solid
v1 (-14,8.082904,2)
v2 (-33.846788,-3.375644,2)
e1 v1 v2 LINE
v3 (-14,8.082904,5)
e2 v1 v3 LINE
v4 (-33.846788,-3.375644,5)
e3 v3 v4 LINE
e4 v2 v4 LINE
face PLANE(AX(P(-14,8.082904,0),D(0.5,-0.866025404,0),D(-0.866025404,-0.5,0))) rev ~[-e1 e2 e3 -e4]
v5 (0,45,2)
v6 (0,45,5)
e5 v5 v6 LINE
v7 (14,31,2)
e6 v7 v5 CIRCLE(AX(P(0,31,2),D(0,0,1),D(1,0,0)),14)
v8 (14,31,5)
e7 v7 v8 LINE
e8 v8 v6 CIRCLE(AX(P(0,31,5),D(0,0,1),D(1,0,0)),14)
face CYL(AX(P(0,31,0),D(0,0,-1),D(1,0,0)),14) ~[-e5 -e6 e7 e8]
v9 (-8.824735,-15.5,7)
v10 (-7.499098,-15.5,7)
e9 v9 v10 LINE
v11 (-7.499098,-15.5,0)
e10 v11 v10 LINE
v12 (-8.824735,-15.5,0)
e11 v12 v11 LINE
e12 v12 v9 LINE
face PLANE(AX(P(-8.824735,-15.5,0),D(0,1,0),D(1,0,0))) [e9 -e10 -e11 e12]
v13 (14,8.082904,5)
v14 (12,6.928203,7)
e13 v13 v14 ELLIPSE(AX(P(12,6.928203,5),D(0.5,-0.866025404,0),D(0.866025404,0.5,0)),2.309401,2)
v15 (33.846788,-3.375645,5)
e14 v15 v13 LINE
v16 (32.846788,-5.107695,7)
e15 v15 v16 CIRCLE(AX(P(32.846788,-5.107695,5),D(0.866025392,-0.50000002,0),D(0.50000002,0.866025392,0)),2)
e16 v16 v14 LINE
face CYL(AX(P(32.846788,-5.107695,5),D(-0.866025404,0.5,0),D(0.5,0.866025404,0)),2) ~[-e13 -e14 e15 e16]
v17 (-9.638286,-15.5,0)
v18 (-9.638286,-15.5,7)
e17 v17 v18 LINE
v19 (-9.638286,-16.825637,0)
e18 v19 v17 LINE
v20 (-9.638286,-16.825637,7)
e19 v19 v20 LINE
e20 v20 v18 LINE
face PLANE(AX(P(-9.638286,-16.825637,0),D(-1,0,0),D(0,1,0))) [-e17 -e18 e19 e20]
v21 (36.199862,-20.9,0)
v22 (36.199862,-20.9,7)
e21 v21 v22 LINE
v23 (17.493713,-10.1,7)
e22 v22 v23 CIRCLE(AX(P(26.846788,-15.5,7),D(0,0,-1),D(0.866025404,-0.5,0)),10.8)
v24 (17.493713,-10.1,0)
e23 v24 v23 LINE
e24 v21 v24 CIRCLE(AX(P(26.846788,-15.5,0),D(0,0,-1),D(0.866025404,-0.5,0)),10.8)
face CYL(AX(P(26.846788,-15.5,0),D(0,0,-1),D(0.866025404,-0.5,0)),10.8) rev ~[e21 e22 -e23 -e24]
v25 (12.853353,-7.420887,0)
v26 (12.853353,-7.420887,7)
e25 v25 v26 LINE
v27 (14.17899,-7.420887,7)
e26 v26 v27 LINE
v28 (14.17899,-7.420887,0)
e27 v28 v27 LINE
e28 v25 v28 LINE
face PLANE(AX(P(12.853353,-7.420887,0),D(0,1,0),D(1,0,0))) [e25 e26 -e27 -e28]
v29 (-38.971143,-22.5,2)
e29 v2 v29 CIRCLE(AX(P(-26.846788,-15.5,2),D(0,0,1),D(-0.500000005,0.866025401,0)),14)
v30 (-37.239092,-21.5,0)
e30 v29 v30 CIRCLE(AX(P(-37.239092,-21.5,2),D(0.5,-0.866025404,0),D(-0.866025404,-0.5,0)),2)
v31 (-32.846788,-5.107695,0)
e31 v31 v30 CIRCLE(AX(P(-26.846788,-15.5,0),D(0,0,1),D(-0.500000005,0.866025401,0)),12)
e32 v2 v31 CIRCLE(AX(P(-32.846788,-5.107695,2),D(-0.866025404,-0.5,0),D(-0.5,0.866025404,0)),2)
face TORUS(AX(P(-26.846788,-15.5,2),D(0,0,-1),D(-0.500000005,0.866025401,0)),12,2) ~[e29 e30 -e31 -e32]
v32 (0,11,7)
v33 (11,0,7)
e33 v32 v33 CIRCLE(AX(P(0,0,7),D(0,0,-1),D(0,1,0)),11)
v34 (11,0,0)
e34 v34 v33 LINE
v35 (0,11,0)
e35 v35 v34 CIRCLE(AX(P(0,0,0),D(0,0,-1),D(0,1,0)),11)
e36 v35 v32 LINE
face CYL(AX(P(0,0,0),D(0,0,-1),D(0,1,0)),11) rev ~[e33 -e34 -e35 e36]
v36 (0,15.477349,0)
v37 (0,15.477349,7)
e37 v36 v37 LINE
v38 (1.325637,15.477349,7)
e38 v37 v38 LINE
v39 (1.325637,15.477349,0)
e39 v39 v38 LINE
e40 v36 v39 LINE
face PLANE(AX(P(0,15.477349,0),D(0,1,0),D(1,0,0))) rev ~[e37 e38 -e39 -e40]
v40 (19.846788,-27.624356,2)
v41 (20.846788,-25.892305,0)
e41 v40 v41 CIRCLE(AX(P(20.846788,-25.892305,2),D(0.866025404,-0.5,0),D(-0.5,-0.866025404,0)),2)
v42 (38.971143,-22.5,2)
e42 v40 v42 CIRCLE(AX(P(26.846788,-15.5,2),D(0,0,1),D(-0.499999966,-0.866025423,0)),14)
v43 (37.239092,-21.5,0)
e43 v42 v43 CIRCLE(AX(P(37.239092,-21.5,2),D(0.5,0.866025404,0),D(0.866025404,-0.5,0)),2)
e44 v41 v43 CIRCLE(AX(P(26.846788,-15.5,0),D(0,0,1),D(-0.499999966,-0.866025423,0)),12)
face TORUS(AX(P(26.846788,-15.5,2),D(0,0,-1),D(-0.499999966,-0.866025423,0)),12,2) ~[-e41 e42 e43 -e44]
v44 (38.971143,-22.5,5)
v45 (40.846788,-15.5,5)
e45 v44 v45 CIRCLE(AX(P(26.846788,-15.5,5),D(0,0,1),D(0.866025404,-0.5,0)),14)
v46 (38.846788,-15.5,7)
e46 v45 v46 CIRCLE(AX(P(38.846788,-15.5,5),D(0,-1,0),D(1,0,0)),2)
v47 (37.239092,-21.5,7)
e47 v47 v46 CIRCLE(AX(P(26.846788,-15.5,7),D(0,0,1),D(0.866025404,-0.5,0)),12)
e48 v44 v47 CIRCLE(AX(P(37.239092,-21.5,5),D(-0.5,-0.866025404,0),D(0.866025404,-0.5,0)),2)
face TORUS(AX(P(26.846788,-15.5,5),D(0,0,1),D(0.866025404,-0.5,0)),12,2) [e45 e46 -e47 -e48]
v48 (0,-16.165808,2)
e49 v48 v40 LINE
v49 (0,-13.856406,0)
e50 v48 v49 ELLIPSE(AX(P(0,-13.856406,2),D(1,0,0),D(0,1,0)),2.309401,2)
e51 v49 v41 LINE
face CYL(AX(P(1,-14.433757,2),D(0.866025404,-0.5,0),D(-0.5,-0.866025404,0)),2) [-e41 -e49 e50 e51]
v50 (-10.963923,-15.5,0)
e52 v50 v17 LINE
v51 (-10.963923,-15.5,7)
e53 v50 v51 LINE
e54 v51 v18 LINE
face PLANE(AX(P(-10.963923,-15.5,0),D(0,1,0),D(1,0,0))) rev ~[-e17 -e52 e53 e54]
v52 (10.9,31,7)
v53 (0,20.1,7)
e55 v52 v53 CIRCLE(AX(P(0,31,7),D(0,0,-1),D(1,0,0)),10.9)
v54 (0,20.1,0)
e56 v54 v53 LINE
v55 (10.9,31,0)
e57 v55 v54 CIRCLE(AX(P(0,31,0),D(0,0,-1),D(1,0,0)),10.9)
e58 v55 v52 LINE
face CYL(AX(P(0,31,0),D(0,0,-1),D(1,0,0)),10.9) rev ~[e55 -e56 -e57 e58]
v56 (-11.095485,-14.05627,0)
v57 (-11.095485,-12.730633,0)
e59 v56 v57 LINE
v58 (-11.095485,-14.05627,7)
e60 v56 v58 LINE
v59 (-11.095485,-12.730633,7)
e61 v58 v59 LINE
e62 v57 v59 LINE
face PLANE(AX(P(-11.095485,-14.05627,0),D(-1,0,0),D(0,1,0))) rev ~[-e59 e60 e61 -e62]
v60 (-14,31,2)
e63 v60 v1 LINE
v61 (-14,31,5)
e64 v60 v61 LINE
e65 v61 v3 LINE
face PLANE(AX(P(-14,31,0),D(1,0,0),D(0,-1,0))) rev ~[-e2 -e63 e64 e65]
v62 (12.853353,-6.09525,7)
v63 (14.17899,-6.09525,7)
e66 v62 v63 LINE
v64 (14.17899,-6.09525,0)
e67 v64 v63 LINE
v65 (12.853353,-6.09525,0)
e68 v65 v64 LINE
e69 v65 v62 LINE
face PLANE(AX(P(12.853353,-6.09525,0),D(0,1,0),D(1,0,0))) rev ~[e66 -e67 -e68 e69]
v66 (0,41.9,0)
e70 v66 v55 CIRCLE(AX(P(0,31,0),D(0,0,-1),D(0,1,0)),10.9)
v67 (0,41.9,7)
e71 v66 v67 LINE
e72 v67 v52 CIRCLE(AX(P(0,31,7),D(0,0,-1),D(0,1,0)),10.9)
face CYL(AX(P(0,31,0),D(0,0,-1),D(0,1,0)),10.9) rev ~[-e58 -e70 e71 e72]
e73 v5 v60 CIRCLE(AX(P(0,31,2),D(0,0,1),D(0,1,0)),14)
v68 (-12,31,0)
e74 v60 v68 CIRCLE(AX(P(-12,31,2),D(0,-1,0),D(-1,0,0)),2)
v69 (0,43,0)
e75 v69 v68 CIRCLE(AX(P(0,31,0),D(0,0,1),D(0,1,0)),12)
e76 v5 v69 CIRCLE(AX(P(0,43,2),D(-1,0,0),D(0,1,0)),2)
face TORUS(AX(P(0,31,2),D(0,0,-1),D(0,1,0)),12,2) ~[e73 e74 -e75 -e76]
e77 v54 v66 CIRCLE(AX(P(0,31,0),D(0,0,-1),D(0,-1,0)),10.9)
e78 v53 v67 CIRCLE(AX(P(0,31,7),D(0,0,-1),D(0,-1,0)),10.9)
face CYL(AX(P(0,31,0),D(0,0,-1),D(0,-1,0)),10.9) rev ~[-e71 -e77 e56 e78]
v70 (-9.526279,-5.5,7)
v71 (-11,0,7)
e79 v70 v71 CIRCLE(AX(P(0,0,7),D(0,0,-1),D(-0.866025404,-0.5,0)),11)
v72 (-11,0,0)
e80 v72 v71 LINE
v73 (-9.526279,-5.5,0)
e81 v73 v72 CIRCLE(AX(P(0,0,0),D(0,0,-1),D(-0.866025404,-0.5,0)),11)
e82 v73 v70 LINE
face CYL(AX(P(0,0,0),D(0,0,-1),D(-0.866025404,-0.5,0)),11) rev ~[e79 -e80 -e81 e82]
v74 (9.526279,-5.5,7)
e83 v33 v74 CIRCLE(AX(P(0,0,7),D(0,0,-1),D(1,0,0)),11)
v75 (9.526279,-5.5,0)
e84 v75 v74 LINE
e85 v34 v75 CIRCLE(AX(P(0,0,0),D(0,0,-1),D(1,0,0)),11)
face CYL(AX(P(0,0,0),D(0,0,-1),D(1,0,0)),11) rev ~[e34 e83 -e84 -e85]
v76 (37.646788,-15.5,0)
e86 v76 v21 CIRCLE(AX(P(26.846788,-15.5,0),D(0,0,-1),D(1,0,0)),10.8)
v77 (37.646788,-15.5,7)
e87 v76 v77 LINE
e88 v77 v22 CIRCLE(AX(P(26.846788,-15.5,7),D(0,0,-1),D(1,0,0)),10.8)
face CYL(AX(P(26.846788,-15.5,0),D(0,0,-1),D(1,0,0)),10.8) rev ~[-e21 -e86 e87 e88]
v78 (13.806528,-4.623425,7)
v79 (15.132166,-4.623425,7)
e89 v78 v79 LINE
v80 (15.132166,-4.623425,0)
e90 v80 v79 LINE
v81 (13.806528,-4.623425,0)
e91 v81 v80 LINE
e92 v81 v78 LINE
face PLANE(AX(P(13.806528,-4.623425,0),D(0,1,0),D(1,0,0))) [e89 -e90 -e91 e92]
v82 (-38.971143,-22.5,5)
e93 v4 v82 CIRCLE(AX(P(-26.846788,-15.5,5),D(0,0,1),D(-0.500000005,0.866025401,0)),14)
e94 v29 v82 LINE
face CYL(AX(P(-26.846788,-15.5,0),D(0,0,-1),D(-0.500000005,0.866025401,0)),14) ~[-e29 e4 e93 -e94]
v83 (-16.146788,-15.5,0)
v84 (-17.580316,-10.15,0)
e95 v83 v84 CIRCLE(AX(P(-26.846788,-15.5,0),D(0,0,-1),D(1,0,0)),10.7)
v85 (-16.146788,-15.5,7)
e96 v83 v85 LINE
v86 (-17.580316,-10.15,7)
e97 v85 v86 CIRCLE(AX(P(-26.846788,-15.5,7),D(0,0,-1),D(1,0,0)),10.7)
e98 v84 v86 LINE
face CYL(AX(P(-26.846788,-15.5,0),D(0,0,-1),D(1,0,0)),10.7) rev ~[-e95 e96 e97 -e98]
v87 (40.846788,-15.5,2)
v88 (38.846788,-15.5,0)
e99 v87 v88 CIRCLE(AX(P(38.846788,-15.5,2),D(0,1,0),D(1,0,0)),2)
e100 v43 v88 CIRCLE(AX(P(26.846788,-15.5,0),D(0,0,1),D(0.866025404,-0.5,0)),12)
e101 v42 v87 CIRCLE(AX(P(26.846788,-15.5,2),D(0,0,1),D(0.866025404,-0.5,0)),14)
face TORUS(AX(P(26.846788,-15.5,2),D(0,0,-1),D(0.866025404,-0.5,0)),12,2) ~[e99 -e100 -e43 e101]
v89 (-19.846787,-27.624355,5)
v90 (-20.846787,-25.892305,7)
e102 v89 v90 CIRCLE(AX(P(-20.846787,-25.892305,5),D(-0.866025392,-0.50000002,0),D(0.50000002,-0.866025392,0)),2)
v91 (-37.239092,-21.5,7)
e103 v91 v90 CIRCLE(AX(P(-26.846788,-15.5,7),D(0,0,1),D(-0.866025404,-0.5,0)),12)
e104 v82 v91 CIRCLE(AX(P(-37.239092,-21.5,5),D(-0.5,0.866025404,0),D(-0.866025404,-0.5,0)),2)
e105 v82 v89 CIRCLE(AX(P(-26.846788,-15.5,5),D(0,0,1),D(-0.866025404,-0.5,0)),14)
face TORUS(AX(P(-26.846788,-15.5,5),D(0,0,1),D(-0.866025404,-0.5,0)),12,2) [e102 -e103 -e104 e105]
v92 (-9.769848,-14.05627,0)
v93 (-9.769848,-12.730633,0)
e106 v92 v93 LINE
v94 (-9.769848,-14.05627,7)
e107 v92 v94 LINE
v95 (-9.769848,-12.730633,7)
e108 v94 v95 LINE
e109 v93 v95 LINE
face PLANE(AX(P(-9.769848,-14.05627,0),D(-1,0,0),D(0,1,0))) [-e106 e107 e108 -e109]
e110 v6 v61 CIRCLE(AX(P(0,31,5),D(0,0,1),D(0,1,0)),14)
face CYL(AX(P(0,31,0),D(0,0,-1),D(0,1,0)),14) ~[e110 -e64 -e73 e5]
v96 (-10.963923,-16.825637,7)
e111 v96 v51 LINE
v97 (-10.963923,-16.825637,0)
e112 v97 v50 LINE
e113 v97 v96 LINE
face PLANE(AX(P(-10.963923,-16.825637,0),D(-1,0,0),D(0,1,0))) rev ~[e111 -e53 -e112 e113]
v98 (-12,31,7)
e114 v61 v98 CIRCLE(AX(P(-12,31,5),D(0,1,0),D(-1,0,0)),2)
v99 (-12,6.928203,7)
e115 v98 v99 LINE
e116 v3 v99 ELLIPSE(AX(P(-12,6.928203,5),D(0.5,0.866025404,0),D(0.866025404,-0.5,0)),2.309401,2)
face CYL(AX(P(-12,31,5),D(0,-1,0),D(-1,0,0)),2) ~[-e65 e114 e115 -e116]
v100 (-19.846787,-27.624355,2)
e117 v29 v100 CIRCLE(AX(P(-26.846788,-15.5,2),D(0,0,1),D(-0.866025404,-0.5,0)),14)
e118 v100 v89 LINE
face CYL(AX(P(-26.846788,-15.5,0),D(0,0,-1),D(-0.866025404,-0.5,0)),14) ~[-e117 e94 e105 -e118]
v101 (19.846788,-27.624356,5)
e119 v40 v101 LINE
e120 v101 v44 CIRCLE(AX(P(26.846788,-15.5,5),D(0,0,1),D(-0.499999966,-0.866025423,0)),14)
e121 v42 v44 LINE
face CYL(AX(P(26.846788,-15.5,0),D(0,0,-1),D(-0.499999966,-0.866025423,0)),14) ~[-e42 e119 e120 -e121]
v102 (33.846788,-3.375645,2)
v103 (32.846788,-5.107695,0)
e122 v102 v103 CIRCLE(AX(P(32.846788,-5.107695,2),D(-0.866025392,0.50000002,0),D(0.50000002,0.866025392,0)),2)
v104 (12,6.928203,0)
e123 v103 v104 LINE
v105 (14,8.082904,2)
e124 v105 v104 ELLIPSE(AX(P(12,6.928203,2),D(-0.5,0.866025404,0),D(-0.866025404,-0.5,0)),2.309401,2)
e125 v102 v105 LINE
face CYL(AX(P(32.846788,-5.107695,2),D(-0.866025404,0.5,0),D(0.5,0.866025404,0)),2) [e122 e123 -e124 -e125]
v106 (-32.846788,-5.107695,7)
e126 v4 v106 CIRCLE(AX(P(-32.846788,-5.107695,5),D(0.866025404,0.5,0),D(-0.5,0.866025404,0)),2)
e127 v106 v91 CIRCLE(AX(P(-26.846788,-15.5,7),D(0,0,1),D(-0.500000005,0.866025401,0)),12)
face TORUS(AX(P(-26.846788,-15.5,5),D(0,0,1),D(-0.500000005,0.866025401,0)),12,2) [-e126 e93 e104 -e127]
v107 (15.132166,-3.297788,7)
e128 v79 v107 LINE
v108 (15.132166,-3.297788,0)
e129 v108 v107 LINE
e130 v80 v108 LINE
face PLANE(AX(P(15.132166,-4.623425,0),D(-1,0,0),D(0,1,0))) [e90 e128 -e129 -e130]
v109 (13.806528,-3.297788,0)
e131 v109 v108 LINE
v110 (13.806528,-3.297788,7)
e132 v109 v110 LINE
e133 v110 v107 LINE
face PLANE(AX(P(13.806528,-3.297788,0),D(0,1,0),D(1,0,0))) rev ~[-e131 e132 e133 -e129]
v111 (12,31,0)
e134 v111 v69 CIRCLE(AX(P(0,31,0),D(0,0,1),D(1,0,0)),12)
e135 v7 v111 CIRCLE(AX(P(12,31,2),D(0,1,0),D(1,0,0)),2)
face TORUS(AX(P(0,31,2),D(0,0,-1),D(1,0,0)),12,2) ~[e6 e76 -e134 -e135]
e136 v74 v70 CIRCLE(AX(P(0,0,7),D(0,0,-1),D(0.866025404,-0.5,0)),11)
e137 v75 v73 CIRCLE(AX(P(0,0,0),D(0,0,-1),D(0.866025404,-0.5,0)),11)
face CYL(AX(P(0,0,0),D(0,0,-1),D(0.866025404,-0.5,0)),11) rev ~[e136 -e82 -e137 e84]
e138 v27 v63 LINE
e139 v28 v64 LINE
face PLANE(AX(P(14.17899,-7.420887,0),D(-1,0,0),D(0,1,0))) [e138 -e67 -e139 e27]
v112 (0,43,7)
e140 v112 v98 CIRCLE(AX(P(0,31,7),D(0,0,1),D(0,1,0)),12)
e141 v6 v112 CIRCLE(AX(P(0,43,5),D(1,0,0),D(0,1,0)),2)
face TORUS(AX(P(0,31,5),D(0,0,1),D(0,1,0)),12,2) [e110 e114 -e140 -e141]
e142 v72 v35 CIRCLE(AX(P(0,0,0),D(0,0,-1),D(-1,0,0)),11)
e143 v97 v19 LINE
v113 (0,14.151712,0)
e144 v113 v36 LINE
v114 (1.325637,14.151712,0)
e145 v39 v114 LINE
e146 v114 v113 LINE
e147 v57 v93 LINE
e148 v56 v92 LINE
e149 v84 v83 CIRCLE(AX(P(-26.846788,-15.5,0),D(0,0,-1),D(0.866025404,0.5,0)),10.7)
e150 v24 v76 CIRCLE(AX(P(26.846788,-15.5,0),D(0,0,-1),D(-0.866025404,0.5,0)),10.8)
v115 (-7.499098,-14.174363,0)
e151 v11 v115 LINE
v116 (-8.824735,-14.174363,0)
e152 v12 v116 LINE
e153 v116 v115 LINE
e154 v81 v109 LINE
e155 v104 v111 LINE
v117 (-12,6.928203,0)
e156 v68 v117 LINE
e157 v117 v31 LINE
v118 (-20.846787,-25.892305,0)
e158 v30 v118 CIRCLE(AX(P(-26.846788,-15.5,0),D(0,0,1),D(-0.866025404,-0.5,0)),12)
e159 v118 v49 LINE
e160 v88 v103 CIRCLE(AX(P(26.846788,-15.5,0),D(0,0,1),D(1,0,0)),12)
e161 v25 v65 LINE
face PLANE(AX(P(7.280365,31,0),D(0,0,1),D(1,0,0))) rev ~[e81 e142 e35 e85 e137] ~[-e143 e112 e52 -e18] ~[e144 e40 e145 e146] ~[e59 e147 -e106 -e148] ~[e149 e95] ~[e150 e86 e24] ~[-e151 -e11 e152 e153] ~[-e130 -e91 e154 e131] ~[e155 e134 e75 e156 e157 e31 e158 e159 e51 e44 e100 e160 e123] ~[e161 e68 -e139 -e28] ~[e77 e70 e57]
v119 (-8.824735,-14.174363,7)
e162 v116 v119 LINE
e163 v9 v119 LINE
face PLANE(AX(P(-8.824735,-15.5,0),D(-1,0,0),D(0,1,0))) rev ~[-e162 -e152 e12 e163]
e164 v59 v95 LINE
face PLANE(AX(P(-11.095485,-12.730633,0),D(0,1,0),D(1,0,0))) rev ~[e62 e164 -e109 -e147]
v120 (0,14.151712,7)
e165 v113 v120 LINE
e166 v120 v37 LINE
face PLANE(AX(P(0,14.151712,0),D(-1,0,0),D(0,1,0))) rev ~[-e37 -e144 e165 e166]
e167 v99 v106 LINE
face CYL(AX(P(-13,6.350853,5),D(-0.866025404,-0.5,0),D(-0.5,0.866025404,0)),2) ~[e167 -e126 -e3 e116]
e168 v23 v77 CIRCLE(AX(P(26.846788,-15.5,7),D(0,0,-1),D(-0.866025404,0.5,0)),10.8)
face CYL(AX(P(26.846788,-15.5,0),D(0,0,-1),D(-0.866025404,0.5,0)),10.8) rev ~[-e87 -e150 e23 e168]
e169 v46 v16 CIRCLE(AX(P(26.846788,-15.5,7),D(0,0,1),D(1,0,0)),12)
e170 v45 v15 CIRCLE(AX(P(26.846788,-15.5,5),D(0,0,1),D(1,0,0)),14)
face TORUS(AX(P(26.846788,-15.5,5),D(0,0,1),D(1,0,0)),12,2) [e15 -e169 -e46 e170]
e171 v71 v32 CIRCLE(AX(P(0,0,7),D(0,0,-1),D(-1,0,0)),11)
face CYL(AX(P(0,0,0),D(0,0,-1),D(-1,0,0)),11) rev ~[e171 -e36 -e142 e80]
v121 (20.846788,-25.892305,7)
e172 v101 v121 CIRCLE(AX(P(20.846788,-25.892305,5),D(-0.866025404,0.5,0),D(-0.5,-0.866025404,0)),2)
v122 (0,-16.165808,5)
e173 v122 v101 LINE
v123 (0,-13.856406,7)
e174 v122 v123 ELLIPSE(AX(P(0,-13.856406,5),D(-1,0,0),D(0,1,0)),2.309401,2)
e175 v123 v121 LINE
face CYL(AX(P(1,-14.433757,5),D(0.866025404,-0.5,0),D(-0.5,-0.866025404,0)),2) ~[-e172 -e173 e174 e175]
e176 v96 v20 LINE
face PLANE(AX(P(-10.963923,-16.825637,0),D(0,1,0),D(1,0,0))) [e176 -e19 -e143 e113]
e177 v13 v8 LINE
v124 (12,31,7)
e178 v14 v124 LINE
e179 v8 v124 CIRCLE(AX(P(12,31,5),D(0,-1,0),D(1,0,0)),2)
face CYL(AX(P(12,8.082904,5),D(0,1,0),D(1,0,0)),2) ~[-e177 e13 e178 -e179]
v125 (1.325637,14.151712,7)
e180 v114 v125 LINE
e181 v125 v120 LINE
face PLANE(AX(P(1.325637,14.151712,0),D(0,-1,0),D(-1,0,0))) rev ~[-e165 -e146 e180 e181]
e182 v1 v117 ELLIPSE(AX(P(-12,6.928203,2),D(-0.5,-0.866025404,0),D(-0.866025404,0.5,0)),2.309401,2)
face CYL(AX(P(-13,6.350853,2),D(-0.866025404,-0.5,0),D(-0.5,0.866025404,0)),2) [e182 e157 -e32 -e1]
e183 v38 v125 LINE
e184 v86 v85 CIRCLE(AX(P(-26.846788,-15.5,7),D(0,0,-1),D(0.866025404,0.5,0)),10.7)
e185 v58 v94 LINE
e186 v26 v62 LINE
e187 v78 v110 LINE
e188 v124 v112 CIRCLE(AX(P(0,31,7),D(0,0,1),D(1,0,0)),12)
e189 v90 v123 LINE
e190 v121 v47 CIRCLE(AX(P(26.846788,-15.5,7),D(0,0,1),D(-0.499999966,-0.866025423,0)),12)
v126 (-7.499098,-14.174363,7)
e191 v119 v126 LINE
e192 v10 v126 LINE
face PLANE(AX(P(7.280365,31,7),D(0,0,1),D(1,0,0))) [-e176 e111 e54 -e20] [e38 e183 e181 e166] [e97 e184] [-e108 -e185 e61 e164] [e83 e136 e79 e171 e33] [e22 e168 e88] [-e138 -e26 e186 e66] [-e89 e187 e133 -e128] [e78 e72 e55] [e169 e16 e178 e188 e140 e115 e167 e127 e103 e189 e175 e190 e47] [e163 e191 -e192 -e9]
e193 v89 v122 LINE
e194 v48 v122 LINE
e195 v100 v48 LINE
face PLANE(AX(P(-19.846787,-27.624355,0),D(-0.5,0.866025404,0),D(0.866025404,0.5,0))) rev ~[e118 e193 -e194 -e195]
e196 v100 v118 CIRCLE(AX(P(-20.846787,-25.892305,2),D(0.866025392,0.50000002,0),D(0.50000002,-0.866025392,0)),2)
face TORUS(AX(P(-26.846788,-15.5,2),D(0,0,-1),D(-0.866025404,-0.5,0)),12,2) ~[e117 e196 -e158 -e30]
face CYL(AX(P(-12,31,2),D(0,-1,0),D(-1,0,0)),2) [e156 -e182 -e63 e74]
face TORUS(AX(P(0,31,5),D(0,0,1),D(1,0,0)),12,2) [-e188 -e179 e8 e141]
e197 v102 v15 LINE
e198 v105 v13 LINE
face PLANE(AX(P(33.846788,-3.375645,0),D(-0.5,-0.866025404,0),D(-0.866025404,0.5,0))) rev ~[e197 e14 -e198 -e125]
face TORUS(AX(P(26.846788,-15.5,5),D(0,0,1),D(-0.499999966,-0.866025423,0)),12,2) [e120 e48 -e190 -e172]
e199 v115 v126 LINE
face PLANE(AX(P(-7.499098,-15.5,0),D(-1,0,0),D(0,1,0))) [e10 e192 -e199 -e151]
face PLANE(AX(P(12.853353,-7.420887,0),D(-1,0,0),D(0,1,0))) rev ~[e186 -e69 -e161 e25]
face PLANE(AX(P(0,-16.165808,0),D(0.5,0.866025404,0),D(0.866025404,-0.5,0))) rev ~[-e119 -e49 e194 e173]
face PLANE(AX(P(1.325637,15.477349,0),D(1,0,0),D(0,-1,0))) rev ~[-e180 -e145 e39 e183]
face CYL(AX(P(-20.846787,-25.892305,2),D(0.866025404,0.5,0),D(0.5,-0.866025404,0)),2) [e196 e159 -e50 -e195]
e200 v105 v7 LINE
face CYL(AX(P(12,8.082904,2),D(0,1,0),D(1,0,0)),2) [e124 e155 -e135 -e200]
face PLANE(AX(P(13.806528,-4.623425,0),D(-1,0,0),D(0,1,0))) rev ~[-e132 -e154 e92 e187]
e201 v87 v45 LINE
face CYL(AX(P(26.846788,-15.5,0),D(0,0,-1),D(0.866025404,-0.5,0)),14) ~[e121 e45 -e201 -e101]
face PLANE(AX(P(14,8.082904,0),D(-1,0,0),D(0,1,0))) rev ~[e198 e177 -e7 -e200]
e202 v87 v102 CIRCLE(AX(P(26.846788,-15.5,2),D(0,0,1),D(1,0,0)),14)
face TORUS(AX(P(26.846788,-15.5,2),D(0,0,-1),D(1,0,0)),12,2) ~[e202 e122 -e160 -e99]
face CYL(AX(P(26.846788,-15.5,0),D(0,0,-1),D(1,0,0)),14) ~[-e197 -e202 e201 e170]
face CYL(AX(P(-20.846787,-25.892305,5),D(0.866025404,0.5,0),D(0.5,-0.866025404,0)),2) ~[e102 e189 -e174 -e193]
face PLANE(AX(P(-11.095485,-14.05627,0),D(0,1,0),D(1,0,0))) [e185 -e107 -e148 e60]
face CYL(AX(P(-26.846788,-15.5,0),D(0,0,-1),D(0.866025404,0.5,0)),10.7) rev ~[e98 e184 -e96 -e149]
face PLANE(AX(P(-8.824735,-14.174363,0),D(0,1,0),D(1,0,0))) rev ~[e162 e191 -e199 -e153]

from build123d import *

# Parameters (mm, degrees)
F0_W     = 1.3256371551
F0_H     = 1.3256371551
F1_DEPTH = 7
F2_R     = 2


with BuildPart() as f1:
    # F0 (on Top) → F1 (new body)
    with BuildSketch(Plane.XY):
        with BuildLine():
            Line((0, 20.1), (0, 17))
            ThreePointArc((0, 17), (9.8994949366, 21.1005050634), (14, 31))
            ThreePointArc((14, 31), (9.8994949366, 40.8994949366), (0, 45))
            Line((0, 45), (0, 41.9))
            ThreePointArc((0, 41.9), (7.7074639149, 38.7074639149), (10.9, 31))
            ThreePointArc((10.9, 31), (7.7074639149, 23.2925360851), (0, 20.1))
        make_face()
        with BuildLine():
            ThreePointArc((-14, 31), (-9.8994949366, 21.1005050634), (0, 17))
            Line((0, 17), (0, 20.1))
            ThreePointArc((0, 20.1), (-10.9, 31), (0, 41.9))
            Line((0, 41.9), (0, 45))
            ThreePointArc((0, 45), (-9.8994949366, 40.8994949366), (-14, 31))
        make_face()
        with BuildLine():
            Line((0, 11), (0, 14.1517119482))
            Line((0, 14.1517119482), (0, 15.4773491033))
            Line((0, 15.4773491033), (0, 17))
            ThreePointArc((0, 17), (-9.8994949366, 21.1005050634), (-14, 31))
            Line((-14, 31), (-14, 8.0829037687))
            Line((-14, 8.0829037687), (-14, 0))
            Line((-14, 0), (-11, 0))
            ThreePointArc((-11, 0), (-7.7781745931, 7.7781745931), (0, 11))
        make_face()
        with BuildLine():
            Line((1.3256371551, 14.1517119482), (0, 14.1517119482))
            Line((0, 14.1517119482), (0, 11))
            ThreePointArc((0, 11), (7.7781745931, 7.7781745931), (11, 0))
            Line((11, 0), (14, 0))
            Line((14, 0), (14, 8.0829037687))
            Line((14, 8.0829037687), (14, 31))
            ThreePointArc((14, 31), (9.8994949366, 21.1005050634), (0, 17))
            Line((0, 17), (0, 15.4773491033))
            Line((0, 15.4773491033), (1.3256371551, 15.4773491033))
            Line((1.3256371551, 15.4773491033), (1.3256371551, 14.1517119482))
        make_face()
        with BuildLine():
            Line((14, 0), (11, 0))
            ThreePointArc((11, 0), (10.6251840892, -2.8470094961), (9.5262794416, -5.5))
            Line((9.5262794416, -5.5), (12.8533530208, -7.4208868265))
            Line((12.8533530208, -7.4208868265), (14.7224318643, -8.5))
            ThreePointArc((14.7224318643, -8.5), (23.2233210418, -1.9770383902), (33.8467877969, -3.3756445084))
            Line((33.8467877969, -3.3756445084), (14, 8.0829037687))
            Line((14, 8.0829037687), (14, 0))
        make_face()
        with Locations((13.5161715983, -6.758068249)):
            Rectangle(F0_W, F0_H, mode=Mode.SUBTRACT)
        with Locations((14.4693469893, -3.9606061499)):
            Rectangle(F0_W, F0_H, mode=Mode.SUBTRACT)
        with BuildLine():
            Line((12.8533530208, -7.4208868265), (9.5262794416, -5.5))
            ThreePointArc((9.5262794416, -5.5), (0, -11), (-9.5262794416, -5.5))
            Line((-9.5262794416, -5.5), (-14, -8.0829037687))
            Line((-14, -8.0829037687), (0, -16.1658075373))
            Line((0, -16.1658075373), (19.8467879874, -27.6243559244))
            ThreePointArc((19.8467879874, -27.6243559244), (13.3238260195, -19.1234668936), (14.7224318643, -8.5))
            Line((14.7224318643, -8.5), (12.8533530208, -7.4208868265))
        make_face()
        with BuildLine():
            ThreePointArc((-9.5262794416, -5.5), (-10.6251840892, -2.8470094961), (-11, 0))
            Line((-11, 0), (-14, 0))
            Line((-14, 0), (-14, 8.0829037687))
            Line((-14, 8.0829037687), (-33.8467875831, -3.375644385))
            ThreePointArc((-33.8467875831, -3.375644385), (-23.2233209225, -1.9770384221), (-14.7224318643, -8.5))
            Line((-14.7224318643, -8.5), (-14, -8.0829037687))
            Line((-14, -8.0829037687), (-9.5262794416, -5.5))
        make_face()
        with BuildLine():
            Line((0, -16.1658075373), (-14, -8.0829037687))
            Line((-14, -8.0829037687), (-14.7224318643, -8.5))
            ThreePointArc((-14.7224318643, -8.5), (-13.3238259493, -11.8765333686), (-12.8467875173, -15.5))
            ThreePointArc((-12.8467875173, -15.5), (-14.7224317836, -22.4999998602), (-19.8467872378, -27.6243554916))
            Line((-19.8467872378, -27.6243554916), (0, -16.1658075373))
        make_face()
        with Locations((-10.3011047203, -16.1628185775)):
            Rectangle(F0_W, F0_H, mode=Mode.SUBTRACT)
        with Locations((-8.161916424, -14.8371814225)):
            Rectangle(F0_W, F0_H, mode=Mode.SUBTRACT)
        with Locations((-10.4326661411, -13.3934514332)):
            Rectangle(F0_W, F0_H, mode=Mode.SUBTRACT)
        with BuildLine():
            ThreePointArc((-12.8467875173, -15.5), (-13.3238259493, -11.8765333686), (-14.7224318643, -8.5))
            Line((-14.7224318643, -8.5), (-17.5803156968, -10.15))
            ThreePointArc((-17.5803156968, -10.15), (-16.511381176, -12.7306362174), (-16.1467875173, -15.5))
            ThreePointArc((-16.1467875173, -15.5), (-24.0774237347, -25.8354063413), (-36.1132593378, -20.85))
            Line((-36.1132593378, -20.85), (-38.9711431703, -22.5))
            ThreePointArc((-38.9711431703, -22.5), (-30.4702539929, -29.0229616098), (-19.8467872378, -27.6243554916))
            ThreePointArc((-19.8467872378, -27.6243554916), (-14.7224317836, -22.4999998602), (-12.8467875173, -15.5))
        make_face()
        with BuildLine():
            ThreePointArc((-14.7224318643, -8.5), (-23.2233209225, -1.9770384221), (-33.8467875831, -3.375644385))
            ThreePointArc((-33.8467875831, -3.375644385), (-40.3697490952, -11.8765334052), (-38.9711431703, -22.5))
            Line((-38.9711431703, -22.5), (-36.1132593378, -20.85))
            ThreePointArc((-36.1132593378, -20.85), (-32.1967875173, -6.2335281795), (-17.5803156968, -10.15))
            Line((-17.5803156968, -10.15), (-14.7224318643, -8.5))
        make_face()
        with BuildLine():
            ThreePointArc((40.8467875173, -15.5), (38.971143251, -8.5000001398), (33.8467877969, -3.3756445084))
            ThreePointArc((33.8467877969, -3.3756445084), (23.2233210418, -1.9770383902), (14.7224318643, -8.5))
            Line((14.7224318643, -8.5), (17.4937131564, -10.1))
            ThreePointArc((17.4937131564, -10.1), (29.6420332044, -5.0680010761), (37.6467875173, -15.5))
            ThreePointArc((37.6467875173, -15.5), (37.2787864412, -18.2952456871), (36.1998618782, -20.9))
            Line((36.1998618782, -20.9), (38.9711431703, -22.5))
            ThreePointArc((38.9711431703, -22.5), (40.3697490854, -19.1234666314), (40.8467875173, -15.5))
        make_face()
        with BuildLine():
            Line((17.4937131564, -10.1), (14.7224318643, -8.5))
            ThreePointArc((14.7224318643, -8.5), (13.3238260195, -19.1234668936), (19.8467879874, -27.6243559244))
            ThreePointArc((19.8467879874, -27.6243559244), (30.4702544109, -29.0229614978), (38.9711431703, -22.5))
            Line((38.9711431703, -22.5), (36.1998618782, -20.9))
            ThreePointArc((36.1998618782, -20.9), (21.4467875173, -24.8530743609), (17.4937131564, -10.1))
        make_face()
    extrude(amount=F1_DEPTH)

    # F2
    f2_edges = [f1.edges().sort_by_distance(p)[0] for p in [
        (-14, 19.541452, 7),
        (0, 45, 7),
        (-23.923394, 2.35363, 7),
        (-38.971143, -22.5, 7),
        (-9.923394, -21.895082, 7),
        (9.923394, -21.895082, 7),
        (38.971143, -22.5, 7),
        (23.923394, 2.35363, 7),
        (14, 19.541452, 7),
        (-9.923394, -21.895082, 0),
        (-38.971143, -22.5, 0),
        (9.923394, -21.895082, 0),
        (38.971143, -22.5, 0),
        (23.923394, 2.35363, 0),
        (14, 19.541452, 0),
        (0, 45, 0),
    ]]
    fillet(f2_edges, radius=F2_R)


solid = f1.part
